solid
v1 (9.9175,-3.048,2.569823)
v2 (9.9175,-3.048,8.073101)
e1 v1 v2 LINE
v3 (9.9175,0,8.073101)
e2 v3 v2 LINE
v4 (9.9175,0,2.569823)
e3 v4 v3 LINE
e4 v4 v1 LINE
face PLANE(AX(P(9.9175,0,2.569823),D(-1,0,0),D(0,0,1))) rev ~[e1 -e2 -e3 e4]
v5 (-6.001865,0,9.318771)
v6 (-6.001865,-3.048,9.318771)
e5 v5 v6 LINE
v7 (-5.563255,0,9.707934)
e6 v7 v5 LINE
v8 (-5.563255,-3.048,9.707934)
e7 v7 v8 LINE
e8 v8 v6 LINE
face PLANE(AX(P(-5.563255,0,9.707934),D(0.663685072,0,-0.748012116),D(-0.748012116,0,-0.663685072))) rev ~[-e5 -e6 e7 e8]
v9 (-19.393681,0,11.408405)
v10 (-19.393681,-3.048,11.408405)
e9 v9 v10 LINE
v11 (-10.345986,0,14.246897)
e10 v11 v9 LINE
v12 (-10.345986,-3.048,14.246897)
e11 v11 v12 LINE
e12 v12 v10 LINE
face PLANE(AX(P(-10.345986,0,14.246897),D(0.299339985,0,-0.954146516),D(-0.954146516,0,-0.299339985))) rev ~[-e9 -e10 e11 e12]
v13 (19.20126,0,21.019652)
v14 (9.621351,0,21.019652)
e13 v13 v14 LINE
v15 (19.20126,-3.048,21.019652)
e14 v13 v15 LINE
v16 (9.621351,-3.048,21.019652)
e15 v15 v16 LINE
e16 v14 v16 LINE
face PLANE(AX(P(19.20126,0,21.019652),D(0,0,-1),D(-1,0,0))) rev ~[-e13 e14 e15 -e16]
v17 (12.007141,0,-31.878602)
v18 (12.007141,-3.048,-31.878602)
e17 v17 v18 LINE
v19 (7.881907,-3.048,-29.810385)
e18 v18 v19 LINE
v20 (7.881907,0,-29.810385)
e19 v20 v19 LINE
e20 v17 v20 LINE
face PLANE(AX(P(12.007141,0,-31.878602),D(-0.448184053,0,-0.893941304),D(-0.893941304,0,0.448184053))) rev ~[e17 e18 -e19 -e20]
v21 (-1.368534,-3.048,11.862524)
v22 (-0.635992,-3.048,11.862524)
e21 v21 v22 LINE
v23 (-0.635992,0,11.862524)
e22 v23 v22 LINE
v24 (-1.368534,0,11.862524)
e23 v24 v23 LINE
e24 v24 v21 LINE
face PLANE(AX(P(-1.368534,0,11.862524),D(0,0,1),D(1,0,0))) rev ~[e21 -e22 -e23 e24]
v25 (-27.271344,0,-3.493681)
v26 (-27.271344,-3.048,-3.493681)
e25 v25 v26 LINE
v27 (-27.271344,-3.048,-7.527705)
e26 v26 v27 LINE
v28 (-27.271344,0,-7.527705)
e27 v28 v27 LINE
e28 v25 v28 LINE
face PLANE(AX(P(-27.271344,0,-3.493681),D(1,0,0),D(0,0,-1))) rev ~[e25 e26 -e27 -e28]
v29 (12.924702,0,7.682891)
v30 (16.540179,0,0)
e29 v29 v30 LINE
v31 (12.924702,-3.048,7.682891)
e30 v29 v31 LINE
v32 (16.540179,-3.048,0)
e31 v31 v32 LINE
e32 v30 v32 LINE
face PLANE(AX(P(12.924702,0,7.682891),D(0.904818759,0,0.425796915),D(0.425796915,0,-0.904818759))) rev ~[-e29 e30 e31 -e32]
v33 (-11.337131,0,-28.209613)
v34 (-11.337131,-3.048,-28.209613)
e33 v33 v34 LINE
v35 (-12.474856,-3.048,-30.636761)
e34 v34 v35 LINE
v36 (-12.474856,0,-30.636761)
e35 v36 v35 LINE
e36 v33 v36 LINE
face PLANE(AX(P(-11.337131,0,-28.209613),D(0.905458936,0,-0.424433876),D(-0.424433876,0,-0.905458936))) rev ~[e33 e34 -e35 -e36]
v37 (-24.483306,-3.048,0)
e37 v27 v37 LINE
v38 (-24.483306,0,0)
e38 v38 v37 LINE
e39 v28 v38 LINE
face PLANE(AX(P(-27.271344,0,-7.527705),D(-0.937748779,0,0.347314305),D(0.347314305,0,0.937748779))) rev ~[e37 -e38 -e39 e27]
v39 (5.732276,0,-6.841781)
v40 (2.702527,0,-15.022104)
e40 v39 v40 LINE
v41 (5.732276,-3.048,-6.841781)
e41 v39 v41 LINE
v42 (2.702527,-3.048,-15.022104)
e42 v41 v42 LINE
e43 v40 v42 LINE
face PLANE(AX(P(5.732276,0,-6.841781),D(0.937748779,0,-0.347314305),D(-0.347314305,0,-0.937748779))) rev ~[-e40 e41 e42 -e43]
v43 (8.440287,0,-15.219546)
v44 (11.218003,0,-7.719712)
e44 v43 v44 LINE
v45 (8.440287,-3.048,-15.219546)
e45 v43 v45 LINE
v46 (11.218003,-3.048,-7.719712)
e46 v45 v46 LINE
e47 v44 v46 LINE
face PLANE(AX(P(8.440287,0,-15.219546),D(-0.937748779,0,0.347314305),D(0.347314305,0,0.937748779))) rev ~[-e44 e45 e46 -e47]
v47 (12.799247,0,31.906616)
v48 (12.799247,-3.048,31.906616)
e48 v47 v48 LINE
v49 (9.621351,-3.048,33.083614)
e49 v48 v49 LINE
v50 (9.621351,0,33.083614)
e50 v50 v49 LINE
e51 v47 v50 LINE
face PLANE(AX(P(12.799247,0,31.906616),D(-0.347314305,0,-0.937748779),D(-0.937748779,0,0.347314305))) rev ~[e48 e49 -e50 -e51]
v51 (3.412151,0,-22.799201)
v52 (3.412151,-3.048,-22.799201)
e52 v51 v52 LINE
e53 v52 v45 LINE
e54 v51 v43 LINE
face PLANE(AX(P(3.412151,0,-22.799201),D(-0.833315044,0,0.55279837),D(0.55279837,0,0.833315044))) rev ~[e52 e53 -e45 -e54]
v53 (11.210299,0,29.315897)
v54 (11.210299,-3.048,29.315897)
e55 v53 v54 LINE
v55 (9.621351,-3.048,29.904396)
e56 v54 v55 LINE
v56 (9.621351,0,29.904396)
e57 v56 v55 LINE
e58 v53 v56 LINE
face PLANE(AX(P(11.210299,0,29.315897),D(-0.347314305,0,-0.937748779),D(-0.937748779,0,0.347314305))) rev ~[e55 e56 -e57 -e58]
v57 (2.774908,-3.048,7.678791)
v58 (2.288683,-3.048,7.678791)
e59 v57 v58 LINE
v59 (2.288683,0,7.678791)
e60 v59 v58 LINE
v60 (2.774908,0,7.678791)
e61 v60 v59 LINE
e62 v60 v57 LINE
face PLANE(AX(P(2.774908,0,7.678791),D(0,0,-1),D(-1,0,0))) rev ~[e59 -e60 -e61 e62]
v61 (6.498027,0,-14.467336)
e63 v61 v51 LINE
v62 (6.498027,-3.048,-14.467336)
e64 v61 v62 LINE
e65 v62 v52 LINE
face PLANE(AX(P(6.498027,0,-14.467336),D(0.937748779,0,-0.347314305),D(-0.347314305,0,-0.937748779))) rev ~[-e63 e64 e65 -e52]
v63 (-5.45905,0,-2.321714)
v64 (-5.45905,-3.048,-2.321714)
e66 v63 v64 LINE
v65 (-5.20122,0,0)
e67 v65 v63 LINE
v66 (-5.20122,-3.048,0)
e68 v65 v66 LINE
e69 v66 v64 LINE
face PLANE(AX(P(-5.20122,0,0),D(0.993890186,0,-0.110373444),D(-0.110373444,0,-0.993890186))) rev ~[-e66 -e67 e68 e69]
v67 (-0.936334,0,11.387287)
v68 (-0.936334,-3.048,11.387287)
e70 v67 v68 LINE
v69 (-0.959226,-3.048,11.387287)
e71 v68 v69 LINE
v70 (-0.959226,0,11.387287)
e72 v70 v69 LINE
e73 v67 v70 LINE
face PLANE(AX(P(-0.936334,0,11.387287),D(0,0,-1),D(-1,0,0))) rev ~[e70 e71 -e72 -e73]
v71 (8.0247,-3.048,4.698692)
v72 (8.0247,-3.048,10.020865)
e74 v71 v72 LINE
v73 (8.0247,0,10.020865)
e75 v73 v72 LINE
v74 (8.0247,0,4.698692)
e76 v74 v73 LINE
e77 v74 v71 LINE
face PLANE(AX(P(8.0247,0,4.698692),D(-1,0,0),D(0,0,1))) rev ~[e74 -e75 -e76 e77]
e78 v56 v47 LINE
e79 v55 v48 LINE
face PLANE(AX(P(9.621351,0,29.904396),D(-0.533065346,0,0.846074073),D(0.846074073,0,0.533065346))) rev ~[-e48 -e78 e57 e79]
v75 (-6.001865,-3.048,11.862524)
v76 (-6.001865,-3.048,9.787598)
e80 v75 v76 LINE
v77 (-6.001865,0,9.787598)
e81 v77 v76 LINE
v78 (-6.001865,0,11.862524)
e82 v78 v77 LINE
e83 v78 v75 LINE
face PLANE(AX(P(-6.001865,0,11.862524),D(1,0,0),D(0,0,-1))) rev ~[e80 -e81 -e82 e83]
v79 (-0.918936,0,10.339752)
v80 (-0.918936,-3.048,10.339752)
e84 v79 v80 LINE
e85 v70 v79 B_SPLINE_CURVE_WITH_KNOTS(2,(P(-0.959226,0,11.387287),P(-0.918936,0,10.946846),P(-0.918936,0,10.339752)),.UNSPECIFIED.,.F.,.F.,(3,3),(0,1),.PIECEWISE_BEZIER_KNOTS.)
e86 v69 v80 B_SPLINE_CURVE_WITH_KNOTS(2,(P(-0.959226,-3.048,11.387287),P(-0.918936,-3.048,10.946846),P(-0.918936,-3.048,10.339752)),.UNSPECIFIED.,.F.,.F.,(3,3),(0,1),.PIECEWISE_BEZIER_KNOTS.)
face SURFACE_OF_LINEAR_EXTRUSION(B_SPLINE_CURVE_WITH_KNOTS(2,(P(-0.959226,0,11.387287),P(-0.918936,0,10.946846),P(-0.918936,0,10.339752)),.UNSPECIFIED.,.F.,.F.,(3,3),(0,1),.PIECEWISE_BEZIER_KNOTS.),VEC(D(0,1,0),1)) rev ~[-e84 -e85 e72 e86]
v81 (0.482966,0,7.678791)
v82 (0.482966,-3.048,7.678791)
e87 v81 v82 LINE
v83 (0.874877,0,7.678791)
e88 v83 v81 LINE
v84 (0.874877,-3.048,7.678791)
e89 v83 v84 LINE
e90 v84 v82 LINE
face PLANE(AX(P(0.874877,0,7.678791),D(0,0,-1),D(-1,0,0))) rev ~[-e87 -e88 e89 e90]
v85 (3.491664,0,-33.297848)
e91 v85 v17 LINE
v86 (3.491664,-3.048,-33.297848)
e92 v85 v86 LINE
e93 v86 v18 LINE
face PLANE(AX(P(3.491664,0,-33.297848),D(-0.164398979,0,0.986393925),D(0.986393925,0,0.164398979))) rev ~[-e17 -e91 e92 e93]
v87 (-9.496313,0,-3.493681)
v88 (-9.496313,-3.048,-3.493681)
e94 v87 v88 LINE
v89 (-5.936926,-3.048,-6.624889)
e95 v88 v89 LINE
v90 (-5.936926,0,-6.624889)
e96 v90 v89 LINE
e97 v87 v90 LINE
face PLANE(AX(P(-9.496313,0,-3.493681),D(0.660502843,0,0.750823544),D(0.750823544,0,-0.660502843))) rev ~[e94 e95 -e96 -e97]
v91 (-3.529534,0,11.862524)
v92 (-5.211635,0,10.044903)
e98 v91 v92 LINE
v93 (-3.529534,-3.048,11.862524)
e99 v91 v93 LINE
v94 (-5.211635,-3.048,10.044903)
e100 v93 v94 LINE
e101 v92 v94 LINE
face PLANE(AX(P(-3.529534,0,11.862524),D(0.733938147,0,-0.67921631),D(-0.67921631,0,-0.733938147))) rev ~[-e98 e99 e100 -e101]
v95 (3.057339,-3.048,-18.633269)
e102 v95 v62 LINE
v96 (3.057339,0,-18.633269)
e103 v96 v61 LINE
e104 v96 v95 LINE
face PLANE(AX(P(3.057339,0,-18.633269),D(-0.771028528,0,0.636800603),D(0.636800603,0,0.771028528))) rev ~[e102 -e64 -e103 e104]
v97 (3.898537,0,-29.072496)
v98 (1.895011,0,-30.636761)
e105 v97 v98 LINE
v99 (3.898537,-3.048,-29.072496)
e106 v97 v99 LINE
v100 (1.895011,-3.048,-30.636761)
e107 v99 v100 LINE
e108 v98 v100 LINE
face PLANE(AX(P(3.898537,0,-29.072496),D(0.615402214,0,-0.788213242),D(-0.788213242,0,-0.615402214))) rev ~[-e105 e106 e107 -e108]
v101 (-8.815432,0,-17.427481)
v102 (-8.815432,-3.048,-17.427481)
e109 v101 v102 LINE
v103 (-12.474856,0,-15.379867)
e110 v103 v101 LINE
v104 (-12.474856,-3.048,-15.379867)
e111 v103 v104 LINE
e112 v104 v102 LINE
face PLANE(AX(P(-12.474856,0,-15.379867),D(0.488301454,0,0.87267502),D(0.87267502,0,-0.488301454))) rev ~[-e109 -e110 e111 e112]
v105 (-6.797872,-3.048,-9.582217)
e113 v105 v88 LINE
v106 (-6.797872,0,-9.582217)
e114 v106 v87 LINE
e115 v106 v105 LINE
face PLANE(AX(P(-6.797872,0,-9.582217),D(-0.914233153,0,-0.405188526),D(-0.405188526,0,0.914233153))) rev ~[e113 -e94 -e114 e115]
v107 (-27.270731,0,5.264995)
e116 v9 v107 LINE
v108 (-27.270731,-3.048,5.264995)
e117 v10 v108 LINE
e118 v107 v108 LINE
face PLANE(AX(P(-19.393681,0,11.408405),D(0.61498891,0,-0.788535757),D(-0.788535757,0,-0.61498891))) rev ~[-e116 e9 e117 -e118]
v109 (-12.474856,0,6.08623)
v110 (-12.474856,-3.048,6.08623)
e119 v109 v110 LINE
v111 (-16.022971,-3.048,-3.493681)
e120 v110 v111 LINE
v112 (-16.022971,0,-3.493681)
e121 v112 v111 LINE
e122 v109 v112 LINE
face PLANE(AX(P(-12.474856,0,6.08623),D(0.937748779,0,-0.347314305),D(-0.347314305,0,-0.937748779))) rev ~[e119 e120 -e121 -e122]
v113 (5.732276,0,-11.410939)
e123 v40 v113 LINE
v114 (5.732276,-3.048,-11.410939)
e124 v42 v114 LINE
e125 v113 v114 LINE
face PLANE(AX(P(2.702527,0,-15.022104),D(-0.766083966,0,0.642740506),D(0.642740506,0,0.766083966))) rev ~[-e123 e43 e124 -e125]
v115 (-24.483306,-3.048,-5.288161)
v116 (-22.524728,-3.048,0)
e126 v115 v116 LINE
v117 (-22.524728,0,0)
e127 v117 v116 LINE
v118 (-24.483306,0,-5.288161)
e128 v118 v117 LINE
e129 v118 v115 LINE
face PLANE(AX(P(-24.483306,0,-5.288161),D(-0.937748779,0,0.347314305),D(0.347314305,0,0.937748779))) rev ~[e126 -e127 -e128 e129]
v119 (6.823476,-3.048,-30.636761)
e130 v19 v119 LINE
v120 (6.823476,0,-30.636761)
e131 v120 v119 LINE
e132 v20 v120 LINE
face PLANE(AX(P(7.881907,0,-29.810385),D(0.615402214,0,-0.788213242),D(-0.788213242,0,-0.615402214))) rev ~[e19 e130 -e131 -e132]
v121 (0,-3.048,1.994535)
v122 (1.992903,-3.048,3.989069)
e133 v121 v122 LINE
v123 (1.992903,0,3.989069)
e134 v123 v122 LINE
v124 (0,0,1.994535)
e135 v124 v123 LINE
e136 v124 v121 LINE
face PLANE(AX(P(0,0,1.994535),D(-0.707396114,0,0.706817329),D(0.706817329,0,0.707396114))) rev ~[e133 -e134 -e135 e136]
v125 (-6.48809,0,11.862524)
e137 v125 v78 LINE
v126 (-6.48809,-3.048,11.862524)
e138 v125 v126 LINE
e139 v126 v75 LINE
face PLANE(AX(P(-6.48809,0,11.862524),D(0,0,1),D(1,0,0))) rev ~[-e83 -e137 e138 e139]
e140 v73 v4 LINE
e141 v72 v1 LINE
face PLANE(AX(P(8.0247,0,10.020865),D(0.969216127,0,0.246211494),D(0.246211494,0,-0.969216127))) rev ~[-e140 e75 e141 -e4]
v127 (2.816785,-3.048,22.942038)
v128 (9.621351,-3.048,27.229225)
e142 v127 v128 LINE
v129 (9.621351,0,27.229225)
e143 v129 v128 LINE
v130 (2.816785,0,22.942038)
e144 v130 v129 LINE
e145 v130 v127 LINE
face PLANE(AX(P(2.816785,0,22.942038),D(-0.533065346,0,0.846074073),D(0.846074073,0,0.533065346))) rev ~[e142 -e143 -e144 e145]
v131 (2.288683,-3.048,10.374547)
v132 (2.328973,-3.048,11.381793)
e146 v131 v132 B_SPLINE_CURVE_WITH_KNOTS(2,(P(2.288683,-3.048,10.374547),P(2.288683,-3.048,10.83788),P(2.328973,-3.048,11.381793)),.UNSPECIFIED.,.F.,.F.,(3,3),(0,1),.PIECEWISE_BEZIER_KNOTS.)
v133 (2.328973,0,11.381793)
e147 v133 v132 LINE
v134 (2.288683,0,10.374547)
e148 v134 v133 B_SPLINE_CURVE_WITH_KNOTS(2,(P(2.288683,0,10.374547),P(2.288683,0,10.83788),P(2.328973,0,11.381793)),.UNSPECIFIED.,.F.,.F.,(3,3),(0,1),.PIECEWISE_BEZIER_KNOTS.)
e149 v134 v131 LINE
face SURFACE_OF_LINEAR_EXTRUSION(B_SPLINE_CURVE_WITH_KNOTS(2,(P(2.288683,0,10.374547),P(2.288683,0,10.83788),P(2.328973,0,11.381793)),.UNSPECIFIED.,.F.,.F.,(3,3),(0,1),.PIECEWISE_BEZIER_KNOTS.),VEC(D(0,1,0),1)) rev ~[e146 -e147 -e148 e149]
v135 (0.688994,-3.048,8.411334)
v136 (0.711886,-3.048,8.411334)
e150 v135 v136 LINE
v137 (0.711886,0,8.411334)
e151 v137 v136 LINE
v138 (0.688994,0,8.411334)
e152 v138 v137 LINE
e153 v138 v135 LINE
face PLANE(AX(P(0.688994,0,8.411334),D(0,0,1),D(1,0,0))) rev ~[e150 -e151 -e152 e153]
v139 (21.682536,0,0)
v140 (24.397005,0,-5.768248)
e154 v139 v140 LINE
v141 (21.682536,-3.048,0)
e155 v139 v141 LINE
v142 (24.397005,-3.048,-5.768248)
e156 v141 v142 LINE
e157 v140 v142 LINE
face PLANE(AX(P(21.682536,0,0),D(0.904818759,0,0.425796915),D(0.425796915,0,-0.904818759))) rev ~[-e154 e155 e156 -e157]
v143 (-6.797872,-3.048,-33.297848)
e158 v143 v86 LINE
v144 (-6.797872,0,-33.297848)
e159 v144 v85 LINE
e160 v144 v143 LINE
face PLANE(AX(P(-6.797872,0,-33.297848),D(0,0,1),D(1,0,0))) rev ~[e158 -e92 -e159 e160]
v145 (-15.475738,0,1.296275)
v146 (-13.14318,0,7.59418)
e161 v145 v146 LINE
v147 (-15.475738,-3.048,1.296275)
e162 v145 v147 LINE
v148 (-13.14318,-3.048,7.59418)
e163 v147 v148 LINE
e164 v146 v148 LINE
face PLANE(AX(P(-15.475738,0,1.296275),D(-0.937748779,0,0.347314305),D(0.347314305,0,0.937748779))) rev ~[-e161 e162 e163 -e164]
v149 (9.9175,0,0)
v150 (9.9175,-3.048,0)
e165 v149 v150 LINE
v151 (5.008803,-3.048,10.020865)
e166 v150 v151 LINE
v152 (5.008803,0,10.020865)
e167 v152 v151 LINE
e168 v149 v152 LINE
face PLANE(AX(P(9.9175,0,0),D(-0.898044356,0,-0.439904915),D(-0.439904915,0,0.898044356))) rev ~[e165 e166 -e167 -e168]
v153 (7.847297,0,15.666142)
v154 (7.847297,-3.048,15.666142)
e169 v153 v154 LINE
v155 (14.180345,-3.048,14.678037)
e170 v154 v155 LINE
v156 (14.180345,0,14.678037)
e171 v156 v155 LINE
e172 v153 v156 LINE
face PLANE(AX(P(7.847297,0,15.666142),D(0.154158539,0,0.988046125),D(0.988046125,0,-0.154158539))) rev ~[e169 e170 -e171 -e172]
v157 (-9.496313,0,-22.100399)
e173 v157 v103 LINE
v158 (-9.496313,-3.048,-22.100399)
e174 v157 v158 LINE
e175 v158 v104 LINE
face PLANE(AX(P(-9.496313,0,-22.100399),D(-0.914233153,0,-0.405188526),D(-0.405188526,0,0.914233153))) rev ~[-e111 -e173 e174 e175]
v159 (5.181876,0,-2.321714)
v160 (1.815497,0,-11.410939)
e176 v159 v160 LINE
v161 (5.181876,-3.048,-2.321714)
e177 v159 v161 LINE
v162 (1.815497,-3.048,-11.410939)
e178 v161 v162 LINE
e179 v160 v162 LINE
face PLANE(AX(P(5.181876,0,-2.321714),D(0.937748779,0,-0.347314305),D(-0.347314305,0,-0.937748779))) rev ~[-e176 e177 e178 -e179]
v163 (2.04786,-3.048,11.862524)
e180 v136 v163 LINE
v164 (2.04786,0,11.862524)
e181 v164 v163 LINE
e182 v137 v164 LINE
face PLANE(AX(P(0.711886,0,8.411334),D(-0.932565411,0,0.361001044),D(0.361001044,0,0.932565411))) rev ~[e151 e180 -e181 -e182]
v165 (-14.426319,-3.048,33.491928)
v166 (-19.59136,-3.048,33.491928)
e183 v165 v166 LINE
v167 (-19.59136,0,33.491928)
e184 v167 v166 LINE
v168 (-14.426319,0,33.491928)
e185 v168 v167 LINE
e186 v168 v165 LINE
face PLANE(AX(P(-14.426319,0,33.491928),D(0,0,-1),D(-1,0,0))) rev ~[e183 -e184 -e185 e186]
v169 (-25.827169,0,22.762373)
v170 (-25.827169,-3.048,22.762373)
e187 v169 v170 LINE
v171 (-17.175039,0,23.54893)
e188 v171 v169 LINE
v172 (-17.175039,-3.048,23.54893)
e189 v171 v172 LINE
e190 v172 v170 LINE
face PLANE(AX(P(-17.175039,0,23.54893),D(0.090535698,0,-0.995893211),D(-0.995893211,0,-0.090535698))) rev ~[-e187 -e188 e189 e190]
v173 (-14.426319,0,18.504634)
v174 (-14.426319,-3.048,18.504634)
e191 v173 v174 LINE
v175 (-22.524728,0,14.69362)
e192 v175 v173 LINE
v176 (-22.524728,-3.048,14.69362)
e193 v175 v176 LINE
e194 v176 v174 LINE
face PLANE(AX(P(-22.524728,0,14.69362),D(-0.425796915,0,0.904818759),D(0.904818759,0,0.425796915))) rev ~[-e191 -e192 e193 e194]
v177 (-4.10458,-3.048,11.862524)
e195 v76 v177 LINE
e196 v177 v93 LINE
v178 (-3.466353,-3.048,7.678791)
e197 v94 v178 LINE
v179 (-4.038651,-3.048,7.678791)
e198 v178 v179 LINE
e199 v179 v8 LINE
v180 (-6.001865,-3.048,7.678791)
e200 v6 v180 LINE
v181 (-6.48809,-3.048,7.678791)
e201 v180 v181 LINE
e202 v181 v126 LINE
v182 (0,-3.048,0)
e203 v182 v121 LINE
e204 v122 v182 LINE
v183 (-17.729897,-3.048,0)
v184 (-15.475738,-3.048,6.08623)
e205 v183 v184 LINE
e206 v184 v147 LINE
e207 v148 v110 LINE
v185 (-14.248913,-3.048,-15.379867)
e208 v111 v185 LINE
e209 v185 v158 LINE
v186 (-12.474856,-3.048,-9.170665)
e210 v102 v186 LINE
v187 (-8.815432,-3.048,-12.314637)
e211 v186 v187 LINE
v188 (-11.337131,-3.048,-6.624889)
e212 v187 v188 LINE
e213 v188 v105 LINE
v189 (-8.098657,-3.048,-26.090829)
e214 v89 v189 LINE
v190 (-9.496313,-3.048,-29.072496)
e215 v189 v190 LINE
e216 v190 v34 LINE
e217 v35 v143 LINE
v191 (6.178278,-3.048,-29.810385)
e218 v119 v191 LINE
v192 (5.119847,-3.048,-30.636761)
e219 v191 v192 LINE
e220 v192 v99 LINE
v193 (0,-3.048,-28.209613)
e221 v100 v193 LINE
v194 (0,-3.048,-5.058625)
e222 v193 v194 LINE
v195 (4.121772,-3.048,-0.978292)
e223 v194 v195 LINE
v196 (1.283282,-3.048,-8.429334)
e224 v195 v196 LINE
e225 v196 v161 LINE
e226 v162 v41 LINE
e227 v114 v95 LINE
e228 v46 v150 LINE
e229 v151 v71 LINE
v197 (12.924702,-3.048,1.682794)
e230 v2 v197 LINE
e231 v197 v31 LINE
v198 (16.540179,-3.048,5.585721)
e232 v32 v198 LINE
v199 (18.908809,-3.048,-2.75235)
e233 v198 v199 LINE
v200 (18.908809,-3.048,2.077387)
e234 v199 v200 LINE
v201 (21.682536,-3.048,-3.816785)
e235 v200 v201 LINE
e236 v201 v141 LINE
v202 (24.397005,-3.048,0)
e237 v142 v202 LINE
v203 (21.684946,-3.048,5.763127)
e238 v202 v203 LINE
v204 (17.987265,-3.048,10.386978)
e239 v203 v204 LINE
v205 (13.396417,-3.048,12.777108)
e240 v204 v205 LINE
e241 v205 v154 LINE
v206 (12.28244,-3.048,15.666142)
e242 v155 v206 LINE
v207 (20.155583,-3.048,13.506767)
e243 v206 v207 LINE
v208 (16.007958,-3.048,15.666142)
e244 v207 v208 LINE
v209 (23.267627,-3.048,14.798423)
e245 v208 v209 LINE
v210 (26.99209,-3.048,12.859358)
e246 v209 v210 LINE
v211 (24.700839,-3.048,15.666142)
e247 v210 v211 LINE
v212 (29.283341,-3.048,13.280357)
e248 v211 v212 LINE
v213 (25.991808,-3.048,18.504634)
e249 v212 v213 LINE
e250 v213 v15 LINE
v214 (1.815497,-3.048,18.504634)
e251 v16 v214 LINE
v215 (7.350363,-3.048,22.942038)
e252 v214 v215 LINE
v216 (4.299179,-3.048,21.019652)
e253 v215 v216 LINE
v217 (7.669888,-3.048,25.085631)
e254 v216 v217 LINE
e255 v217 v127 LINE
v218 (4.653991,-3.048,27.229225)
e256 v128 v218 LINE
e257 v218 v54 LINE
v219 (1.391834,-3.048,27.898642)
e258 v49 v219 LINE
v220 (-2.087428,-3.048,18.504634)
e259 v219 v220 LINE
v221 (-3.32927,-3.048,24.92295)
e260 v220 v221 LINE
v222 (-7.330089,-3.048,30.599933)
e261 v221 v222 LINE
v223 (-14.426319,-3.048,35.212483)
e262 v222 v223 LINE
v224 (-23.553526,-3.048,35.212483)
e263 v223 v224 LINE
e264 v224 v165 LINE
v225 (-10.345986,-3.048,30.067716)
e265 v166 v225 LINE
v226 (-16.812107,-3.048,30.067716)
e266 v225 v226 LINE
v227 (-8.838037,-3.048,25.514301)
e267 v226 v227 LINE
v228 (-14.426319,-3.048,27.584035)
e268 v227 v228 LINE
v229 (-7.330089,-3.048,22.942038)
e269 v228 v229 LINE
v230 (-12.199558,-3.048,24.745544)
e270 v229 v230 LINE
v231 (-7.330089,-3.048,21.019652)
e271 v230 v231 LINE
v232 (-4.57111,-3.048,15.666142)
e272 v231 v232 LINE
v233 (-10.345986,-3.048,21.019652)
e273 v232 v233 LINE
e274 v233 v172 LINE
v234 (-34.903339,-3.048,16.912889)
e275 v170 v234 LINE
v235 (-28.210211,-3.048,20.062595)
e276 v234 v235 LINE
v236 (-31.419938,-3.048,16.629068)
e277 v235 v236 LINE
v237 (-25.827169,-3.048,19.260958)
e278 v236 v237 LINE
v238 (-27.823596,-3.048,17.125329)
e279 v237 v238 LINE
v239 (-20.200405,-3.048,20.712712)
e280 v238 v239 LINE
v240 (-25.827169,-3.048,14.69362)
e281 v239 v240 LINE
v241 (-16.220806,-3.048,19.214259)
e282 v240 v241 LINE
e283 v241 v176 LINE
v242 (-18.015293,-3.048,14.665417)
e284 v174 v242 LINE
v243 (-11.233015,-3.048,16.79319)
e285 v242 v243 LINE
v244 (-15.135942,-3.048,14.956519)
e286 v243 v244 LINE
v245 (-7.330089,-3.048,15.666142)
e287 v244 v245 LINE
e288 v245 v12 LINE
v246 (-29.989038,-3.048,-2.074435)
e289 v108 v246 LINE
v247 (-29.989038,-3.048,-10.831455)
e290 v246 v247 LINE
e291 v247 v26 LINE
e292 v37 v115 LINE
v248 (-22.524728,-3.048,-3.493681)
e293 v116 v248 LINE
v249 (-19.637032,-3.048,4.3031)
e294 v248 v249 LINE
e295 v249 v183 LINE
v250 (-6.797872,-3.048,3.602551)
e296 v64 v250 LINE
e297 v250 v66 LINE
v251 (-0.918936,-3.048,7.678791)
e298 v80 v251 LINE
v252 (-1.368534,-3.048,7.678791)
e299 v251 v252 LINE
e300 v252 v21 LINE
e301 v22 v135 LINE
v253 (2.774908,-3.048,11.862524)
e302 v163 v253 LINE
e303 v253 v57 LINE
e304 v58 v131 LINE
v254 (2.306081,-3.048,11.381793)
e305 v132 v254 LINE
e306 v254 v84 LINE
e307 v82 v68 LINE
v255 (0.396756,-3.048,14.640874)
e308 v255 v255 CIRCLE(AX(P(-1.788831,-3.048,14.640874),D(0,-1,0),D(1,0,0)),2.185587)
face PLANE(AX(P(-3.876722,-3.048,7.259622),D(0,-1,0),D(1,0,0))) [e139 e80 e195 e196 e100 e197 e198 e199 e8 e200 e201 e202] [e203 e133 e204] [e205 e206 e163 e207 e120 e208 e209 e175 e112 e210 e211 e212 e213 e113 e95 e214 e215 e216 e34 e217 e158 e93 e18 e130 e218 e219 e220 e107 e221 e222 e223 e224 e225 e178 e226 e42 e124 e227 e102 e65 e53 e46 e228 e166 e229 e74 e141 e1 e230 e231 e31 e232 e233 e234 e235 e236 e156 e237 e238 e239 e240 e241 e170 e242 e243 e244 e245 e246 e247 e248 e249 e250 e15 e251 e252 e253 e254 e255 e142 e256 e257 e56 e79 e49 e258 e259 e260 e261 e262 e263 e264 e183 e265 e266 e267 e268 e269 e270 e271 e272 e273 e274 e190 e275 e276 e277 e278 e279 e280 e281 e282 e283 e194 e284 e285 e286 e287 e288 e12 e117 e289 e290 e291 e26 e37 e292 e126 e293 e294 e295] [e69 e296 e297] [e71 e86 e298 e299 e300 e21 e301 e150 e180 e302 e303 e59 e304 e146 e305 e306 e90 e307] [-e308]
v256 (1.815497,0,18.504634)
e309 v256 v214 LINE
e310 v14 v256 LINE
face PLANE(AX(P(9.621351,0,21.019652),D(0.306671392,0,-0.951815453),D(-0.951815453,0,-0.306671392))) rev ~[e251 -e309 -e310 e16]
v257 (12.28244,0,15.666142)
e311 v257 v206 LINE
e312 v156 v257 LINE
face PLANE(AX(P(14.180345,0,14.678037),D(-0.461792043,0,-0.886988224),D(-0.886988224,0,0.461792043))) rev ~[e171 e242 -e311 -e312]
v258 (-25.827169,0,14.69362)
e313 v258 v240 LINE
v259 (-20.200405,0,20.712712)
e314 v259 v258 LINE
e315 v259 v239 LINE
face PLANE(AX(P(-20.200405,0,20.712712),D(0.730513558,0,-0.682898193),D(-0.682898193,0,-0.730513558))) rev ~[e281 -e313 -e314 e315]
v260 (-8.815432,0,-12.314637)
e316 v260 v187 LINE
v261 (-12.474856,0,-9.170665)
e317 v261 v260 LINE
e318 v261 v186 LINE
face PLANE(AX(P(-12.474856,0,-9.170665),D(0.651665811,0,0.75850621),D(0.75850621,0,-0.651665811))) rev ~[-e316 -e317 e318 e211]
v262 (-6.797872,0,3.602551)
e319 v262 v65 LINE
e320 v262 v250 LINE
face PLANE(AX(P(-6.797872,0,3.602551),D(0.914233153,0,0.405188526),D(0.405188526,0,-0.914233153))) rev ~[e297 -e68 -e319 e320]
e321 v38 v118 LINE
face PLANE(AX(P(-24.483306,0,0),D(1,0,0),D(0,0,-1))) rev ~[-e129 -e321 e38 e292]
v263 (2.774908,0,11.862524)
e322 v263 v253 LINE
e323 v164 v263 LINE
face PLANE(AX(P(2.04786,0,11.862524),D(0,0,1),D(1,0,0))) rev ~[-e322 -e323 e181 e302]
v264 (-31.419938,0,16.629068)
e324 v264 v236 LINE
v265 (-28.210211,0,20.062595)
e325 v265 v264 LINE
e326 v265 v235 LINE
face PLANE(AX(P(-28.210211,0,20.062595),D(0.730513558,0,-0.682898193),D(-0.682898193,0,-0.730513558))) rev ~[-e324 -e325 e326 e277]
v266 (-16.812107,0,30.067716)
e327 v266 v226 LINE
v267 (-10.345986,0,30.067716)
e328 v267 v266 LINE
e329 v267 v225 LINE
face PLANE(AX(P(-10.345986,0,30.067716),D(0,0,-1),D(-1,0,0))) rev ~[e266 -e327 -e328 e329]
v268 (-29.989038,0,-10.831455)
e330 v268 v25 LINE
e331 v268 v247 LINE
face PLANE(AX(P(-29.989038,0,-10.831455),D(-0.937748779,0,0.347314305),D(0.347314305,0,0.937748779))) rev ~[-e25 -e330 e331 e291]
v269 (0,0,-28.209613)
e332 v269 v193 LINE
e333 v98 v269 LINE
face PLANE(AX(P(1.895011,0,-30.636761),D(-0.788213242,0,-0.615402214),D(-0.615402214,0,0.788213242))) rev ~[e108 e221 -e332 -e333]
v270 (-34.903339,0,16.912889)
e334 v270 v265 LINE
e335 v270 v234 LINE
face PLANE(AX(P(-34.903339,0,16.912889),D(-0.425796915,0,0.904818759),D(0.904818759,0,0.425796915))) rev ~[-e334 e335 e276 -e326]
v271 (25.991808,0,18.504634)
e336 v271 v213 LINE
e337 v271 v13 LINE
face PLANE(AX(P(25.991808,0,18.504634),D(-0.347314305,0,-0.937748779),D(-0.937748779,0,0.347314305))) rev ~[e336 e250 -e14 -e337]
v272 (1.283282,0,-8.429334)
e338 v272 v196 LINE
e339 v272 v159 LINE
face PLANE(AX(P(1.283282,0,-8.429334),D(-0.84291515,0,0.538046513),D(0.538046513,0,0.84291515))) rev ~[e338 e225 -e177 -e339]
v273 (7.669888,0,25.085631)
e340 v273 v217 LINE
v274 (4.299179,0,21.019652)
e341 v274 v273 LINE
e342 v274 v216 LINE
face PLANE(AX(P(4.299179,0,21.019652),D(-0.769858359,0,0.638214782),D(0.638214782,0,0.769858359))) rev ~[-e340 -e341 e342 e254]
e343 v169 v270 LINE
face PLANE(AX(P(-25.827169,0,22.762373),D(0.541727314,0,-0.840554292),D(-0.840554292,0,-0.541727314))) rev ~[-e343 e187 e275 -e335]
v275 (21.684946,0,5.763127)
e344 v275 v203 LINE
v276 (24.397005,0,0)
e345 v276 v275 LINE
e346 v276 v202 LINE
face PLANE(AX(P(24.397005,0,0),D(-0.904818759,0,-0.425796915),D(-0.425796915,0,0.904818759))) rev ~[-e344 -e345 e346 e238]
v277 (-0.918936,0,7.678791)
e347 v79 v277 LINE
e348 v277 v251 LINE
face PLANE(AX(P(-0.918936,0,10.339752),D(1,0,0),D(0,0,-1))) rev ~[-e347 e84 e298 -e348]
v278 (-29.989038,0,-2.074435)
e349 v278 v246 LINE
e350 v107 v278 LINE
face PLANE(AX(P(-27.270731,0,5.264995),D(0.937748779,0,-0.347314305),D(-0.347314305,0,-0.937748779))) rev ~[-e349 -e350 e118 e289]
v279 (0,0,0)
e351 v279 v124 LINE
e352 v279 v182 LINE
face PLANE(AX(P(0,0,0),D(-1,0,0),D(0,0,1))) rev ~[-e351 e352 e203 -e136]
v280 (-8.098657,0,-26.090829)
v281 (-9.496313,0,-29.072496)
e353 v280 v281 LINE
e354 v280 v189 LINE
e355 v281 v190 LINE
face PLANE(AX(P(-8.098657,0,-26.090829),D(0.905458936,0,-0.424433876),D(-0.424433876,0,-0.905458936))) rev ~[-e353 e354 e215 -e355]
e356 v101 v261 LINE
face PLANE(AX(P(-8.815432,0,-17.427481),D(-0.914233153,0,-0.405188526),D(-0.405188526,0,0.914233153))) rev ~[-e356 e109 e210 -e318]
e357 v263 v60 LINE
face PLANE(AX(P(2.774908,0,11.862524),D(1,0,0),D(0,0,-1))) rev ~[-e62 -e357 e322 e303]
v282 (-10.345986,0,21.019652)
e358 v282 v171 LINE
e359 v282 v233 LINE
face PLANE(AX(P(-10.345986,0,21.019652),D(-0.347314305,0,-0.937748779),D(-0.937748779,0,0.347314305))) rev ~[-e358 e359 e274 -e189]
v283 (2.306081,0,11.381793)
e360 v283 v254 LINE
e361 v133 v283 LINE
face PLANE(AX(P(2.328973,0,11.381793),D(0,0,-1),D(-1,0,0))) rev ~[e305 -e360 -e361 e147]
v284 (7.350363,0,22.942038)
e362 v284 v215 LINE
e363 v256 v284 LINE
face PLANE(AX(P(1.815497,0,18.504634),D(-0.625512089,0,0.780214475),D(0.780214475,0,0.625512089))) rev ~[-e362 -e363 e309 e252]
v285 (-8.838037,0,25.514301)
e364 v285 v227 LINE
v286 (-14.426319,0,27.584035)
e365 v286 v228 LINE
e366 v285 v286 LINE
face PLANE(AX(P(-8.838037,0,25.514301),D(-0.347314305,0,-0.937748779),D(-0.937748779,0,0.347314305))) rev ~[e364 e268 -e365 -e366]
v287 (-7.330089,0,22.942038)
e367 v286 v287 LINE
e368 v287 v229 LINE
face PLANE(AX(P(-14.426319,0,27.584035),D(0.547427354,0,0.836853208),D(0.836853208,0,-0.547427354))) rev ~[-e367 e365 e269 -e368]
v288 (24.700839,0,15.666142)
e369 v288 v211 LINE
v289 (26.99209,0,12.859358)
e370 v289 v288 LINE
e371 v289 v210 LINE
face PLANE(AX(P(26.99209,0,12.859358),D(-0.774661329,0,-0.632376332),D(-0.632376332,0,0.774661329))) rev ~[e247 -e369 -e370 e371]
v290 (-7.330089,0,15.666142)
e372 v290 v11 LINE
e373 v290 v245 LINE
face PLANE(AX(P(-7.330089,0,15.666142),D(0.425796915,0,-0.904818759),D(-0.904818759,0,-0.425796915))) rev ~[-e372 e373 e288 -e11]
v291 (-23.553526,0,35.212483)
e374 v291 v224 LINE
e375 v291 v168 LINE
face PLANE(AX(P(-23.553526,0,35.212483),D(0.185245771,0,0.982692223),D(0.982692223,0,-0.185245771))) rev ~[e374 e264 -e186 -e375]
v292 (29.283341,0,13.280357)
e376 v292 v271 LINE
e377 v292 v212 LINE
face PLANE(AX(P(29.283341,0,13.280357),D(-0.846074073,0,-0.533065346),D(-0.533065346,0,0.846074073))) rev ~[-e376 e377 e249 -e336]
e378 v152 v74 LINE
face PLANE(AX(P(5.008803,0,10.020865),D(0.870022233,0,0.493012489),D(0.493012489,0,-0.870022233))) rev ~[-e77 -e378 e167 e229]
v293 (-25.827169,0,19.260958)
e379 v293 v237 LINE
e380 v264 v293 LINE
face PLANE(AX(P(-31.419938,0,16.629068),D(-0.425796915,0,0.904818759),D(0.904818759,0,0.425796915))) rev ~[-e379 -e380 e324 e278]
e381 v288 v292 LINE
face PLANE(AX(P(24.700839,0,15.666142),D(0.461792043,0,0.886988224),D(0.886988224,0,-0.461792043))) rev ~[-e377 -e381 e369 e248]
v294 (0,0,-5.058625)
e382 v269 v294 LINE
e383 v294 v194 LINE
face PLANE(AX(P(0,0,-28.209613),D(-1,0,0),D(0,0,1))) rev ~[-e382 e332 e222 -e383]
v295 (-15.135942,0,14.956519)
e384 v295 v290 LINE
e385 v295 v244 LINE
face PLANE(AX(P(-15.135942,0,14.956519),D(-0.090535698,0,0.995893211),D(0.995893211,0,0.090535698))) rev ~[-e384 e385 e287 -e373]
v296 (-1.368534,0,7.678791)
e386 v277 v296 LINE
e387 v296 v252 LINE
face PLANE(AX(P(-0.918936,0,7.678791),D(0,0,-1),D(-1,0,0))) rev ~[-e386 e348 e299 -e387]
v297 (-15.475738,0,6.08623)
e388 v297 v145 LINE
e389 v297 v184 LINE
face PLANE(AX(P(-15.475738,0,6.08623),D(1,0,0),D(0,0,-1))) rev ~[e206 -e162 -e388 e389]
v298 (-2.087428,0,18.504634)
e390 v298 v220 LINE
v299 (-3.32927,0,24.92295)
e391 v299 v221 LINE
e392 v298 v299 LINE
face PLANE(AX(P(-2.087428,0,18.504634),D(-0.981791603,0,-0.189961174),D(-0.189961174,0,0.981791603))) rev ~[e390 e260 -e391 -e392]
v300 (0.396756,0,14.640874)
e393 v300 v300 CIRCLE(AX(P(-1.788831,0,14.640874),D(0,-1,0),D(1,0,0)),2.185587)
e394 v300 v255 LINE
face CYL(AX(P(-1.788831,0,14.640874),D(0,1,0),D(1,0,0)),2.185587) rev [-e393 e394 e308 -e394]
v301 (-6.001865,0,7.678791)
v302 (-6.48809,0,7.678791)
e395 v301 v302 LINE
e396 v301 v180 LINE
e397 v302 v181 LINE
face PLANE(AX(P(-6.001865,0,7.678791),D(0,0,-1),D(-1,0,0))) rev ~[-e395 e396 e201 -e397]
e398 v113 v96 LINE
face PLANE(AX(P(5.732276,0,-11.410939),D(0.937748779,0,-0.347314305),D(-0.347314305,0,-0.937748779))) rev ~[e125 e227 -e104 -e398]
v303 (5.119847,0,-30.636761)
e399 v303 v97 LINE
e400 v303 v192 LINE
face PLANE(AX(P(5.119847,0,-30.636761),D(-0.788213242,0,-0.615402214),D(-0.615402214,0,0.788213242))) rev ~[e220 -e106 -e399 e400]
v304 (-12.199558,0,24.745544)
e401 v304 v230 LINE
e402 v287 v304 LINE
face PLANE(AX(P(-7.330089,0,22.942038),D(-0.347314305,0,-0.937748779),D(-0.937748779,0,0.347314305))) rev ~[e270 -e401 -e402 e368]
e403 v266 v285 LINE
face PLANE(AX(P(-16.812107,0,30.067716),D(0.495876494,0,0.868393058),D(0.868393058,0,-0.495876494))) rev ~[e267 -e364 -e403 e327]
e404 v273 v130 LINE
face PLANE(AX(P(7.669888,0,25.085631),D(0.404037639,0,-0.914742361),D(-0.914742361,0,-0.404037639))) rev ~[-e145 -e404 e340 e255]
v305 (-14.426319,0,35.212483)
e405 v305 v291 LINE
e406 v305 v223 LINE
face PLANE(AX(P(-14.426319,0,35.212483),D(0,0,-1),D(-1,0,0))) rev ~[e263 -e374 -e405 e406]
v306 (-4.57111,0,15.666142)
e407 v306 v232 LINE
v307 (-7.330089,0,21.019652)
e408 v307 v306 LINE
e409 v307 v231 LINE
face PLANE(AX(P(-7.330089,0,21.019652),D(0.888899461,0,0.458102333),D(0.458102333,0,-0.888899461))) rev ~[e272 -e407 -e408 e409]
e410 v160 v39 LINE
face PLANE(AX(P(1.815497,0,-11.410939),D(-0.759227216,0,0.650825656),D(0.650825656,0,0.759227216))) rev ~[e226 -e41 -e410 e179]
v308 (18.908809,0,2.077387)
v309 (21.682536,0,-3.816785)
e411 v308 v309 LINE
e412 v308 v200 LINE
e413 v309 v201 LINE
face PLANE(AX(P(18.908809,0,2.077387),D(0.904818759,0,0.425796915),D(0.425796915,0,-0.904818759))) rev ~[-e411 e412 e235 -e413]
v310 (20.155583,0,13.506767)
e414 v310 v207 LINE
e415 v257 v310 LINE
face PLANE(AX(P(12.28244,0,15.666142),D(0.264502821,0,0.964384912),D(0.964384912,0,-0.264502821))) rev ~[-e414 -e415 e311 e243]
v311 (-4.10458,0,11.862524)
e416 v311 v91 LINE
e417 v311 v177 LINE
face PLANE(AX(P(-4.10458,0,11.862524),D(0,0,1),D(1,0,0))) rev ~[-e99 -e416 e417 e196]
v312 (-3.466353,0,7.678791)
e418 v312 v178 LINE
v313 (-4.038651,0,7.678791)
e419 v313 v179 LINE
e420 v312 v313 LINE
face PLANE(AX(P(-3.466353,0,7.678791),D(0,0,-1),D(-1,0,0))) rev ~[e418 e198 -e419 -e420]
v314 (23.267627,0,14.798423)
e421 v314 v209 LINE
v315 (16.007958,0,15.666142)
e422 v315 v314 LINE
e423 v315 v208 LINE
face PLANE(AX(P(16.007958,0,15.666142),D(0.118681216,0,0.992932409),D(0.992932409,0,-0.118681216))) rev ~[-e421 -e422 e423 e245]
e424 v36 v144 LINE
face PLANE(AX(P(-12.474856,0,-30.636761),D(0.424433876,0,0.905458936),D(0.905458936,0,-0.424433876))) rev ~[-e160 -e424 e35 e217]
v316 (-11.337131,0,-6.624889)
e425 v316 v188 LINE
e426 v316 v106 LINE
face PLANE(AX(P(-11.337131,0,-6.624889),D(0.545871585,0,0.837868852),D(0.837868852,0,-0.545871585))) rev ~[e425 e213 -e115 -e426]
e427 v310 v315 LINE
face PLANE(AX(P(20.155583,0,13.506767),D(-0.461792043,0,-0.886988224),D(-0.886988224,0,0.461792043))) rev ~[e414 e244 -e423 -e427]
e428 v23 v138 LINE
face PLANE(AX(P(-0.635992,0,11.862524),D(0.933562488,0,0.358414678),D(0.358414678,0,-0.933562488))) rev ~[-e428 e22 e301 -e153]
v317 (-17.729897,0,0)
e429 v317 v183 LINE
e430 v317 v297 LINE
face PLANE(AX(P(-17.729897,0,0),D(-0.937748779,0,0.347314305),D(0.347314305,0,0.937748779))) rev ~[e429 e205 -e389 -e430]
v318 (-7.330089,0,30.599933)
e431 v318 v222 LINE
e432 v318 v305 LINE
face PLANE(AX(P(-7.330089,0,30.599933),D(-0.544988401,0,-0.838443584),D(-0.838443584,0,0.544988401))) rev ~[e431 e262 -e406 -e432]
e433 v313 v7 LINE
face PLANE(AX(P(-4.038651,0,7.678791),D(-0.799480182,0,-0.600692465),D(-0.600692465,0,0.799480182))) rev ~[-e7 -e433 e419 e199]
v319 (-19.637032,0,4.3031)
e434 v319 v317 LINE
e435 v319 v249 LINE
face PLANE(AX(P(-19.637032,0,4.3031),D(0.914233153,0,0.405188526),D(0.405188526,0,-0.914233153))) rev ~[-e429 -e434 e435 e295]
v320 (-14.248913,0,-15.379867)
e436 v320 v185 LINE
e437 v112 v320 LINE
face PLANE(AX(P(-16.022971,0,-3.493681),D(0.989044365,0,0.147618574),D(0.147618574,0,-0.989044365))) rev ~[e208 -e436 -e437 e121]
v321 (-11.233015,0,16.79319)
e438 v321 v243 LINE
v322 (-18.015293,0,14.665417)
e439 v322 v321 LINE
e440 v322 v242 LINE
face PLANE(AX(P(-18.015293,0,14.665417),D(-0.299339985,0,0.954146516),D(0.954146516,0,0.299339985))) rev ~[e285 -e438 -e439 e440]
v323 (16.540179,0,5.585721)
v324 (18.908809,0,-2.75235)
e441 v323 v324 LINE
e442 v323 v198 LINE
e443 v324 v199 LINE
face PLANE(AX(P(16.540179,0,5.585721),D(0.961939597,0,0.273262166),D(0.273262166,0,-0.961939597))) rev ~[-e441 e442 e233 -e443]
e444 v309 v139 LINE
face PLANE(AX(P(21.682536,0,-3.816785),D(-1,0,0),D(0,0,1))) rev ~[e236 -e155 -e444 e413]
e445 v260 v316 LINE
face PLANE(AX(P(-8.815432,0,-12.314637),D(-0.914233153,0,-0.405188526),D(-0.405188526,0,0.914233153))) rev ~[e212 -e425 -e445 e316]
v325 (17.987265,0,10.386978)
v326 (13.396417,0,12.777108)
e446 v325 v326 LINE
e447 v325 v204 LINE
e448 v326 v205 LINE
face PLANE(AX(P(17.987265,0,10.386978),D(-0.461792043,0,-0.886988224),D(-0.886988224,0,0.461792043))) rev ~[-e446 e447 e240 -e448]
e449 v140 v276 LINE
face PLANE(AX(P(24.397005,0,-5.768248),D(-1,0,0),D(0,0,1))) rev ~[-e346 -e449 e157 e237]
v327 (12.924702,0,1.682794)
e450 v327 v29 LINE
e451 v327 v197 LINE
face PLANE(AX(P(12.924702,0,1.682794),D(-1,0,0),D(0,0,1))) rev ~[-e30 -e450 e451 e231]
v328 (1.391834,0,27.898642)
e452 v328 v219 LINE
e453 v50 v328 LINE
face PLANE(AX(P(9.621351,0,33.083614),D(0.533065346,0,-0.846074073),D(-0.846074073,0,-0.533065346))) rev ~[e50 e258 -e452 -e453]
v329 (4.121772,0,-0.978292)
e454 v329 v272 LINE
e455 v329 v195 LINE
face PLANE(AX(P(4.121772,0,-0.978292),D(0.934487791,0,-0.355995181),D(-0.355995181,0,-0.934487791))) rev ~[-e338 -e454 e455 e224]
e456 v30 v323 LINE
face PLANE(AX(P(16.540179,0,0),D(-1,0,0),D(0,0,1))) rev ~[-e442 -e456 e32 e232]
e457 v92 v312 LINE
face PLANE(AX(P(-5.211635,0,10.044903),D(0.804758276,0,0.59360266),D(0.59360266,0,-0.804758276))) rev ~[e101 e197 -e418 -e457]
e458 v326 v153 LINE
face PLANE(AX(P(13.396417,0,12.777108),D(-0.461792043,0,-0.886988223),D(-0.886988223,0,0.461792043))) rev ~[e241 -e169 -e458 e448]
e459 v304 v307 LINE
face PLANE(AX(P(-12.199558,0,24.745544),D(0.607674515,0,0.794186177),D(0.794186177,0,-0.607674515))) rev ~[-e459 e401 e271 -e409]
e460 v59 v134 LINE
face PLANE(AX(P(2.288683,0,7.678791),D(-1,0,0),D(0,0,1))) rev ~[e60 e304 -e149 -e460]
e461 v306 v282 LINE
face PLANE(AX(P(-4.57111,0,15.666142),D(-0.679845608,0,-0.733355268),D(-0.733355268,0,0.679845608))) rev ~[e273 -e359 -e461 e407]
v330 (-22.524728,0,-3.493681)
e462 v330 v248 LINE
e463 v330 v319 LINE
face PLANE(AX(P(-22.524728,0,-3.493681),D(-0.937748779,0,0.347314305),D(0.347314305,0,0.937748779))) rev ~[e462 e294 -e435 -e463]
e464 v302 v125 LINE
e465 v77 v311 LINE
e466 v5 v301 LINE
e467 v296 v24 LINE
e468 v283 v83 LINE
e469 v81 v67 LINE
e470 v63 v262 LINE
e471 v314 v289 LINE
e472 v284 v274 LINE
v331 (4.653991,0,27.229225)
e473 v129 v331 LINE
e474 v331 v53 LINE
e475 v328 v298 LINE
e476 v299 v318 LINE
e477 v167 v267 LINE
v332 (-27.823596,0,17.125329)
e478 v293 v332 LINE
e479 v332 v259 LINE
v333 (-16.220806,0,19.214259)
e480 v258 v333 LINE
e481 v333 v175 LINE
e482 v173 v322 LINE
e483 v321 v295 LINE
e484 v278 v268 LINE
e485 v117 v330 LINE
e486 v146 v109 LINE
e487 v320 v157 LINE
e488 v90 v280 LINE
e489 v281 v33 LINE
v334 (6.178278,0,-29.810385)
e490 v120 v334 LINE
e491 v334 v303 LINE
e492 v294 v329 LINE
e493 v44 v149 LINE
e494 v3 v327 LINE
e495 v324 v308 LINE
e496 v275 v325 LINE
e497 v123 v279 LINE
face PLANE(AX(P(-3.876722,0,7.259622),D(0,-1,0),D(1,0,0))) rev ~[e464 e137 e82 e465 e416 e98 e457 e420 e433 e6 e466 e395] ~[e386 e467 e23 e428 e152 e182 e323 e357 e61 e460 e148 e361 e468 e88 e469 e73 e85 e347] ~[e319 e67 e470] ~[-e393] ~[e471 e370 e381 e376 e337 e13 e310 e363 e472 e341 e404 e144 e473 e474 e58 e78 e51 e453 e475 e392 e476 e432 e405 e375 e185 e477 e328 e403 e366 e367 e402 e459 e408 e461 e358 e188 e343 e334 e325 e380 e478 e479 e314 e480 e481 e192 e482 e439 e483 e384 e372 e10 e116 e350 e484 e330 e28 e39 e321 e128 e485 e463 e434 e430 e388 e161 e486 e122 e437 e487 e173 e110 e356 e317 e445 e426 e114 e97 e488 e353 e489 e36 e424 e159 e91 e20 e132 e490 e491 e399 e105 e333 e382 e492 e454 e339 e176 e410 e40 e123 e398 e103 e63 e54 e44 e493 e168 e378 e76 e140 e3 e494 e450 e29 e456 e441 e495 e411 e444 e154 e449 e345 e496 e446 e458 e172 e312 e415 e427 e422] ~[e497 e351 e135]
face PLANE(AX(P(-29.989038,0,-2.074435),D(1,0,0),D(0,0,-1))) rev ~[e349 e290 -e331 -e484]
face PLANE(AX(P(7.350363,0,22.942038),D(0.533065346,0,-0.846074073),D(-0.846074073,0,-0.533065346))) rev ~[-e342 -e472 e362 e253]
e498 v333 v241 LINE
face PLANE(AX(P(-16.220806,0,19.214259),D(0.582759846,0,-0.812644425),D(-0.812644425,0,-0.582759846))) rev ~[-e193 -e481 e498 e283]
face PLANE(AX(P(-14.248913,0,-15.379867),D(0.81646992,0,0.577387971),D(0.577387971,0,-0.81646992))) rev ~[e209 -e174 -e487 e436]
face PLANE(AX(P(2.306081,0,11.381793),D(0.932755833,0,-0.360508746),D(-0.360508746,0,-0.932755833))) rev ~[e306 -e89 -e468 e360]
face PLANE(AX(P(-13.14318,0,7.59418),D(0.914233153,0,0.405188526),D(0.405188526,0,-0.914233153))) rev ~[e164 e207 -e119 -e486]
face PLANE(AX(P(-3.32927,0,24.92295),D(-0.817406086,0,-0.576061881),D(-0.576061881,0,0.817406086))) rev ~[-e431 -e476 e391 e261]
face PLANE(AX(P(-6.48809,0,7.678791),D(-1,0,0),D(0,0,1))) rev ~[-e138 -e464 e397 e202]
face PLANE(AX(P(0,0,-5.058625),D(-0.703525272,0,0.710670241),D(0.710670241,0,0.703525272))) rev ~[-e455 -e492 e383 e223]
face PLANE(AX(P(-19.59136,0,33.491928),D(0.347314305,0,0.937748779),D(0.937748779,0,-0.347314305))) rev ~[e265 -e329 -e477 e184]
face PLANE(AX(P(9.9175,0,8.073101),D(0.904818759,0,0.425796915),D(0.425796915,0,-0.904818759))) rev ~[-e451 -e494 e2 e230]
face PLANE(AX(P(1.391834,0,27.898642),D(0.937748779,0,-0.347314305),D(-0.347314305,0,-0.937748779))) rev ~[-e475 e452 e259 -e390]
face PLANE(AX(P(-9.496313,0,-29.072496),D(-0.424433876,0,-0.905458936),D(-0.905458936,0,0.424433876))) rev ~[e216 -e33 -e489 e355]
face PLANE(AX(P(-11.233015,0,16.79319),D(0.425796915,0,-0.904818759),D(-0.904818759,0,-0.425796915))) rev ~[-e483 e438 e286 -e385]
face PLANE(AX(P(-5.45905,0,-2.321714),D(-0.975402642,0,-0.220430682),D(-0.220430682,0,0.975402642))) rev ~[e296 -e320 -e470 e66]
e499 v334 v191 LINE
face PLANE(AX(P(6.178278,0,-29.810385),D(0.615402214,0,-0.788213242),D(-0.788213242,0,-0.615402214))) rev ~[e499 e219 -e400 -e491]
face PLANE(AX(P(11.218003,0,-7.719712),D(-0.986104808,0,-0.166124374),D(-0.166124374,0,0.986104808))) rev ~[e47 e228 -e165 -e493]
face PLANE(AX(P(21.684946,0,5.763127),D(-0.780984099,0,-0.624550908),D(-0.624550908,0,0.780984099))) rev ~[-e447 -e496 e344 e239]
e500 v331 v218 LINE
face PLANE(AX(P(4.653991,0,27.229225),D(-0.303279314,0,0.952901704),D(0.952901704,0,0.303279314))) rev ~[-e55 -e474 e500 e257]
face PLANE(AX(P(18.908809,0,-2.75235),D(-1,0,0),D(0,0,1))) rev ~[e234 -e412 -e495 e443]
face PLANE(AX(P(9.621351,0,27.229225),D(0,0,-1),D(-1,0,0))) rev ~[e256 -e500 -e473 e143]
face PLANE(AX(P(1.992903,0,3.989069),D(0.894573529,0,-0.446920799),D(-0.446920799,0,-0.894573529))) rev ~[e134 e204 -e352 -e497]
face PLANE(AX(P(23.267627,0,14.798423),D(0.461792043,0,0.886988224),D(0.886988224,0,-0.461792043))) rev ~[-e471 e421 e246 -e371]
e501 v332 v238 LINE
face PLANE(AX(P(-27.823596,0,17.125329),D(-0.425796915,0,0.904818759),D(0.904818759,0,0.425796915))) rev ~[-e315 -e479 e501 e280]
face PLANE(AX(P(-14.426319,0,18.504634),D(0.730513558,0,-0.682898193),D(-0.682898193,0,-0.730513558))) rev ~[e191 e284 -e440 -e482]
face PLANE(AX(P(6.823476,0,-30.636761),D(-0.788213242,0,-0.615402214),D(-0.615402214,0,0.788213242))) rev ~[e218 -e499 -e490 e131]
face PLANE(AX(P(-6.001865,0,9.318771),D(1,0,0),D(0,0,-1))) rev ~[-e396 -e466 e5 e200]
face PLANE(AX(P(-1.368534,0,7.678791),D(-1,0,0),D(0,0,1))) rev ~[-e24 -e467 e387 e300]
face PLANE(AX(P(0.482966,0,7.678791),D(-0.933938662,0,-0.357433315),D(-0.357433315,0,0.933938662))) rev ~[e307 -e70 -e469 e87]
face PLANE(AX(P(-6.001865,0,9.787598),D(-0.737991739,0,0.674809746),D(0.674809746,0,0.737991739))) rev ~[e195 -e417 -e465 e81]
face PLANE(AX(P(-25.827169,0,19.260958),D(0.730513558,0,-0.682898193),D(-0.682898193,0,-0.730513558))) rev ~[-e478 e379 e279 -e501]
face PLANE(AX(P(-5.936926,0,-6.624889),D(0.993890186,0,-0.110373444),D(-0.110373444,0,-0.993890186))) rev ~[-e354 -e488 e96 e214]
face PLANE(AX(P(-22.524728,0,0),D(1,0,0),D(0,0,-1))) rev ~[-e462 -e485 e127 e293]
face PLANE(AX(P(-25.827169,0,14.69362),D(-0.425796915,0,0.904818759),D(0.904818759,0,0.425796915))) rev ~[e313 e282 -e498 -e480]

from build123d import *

# Parameters (mm, degrees)
F0_R     = 2.1855866809
F1_DEPTH = 3.048


with BuildPart() as f1:
    # F0 (on Front) → F1 (new body)
    with BuildSketch(Plane.XZ):
        Polygon((-5.9369264533, -6.6248892115), (-8.0986570849, -26.090829358), (-8.0986570849, -29.0724959499), (-6.7978715524, -28.209612886), (-3.9593786933, -29.0724959499), (0, -28.209612886), (0, -5.0586252473), (4.1217724793, -0.9782924317), (1.2832815992, -8.4293344989), (5.1818756491, -2.3217138641), (1.8154965946, -11.4109388133), (5.7322757336, -6.8417807078), (2.702526981, -15.0221036917), (5.7322757336, -11.4109388133), (3.0573392287, -18.6332685701), (6.4980270698, -14.4673358305), (3.4121514764, -22.7992013097), (8.4402870655, -15.2195461217), (11.2180029973, -7.7197118662), (9.9174999541, 0), (5.0088027492, 10.0208651274), (8.024699986, 4.6986923553), (8.024699986, 10.0208651274), (9.9174999541, 2.5698228274), (9.9174999541, 8.0731014378), (12.9247023214, 1.6827941872), (12.9247023214, 7.682890673), (16.5401790291, 0), (16.5401790291, 5.5857207626), (18.9088093805, -2.7523501776), (18.9088093805, 2.0773874768), (21.6825364495, -3.8167845923), (21.6825364495, 0), (24.3970053162, -5.7682483457), (24.3970053162, 0), (21.6849464923, 5.7631270029), (17.9872654723, 10.3869775868), (13.3964173922, 12.7771075341), (7.8472970054, 15.6661421061), (14.1803448269, 14.6780370192), (12.2824395075, 15.6661421061), (20.1555828001, 13.5067671671), (16.00795798, 15.6661421061), (23.2676268034, 14.7984231008), (26.9920900816, 12.8593584523), (24.7008390725, 15.6661421061), (29.2833410908, 13.2803573629), (25.9918076559, 18.5046344995), (19.2012600601, 21.019651712), (14.9435270578, 21.019651712), (9.621351026, 21.019651712), (1.8154965946, 18.5046344995), (7.3503633432, 22.9420375162), (4.2991787195, 21.019651712), (7.6698875055, 25.0856313896), (2.8167848962, 22.9420375162), (9.621351026, 27.229225263), (4.6539907344, 27.229225263), (11.2102990657, 29.3158966176), (9.621351026, 29.9043957943), (12.7992471054, 31.9066156085), (9.621351026, 33.0836139619), (1.3918339066, 27.8986419471), (-2.087427536, 18.5046344995), (-3.3292702865, 24.9229501933), (-7.3300888762, 30.5999331176), (-14.4263189286, 35.2124832571), (-23.553526029, 35.2124832571), (-14.4263189286, 33.4919277449), (-19.5913599088, 33.4919277449), (-10.345986113, 30.0677157938), (-16.8121065944, 30.0677157938), (-8.8380374946, 25.5143014271), (-14.4263189286, 27.5840349495), (-7.3300888762, 22.9420375162), (-12.1995583177, 24.7455444187), (-7.3300888762, 21.019651712), (-4.5711095445, 15.6661421061), (-10.345986113, 21.019651712), (-17.1750385652, 23.54892998), (-25.8271690029, 22.7623730898), (-34.9033385476, 16.912889007), (-28.2102105994, 20.0625951825), (-31.419938263, 16.6290679), (-25.8271690029, 19.2609584022), (-27.8235962899, 17.1253293783), (-20.200404818, 20.7127123541), (-25.8271690029, 14.6936196567), (-16.2208060825, 19.2142594606), (-22.524728283, 14.6936196567), (-14.4263189286, 18.5046344995), (-18.0152932364, 14.6654174403), (-11.2330154516, 16.7931901649), (-15.135942027, 14.9565194733), (-7.3300888762, 15.6661421061), (-10.345986113, 14.2468968406), (-19.3936806172, 11.4084053785), (-27.2707313308, 5.2649948951), (-29.9890381223, -2.0744346548), (-29.9890381223, -10.8314546173), (-27.2713444978, -3.4936806187), (-27.2713444978, -7.5277050313), (-24.4833060582, 0), (-24.4833060582, -5.2881608668), (-22.524728283, 0), (-22.524728283, -3.4936806187), (-19.6370323027, 4.3030998167), (-17.7298966168, 0), (-15.4757376271, 6.086230278), (-15.4757376271, 1.2962748297), (-13.1431804335, 7.5941802934), (-12.4748563394, 6.086230278), (-16.0229708999, -3.4936806187), (-14.248913154, -15.3798665851), (-9.4963132998, -22.1003994255), (-12.4748563394, -15.3798665851), (-8.8154319776, -17.4274813299), (-12.4748563394, -9.1706654057), (-8.8154319776, -12.3146366909), (-11.3371305027, -6.6248892115), (-6.7978715524, -9.5822165707), (-9.4963132998, -3.4936806187), align=None)
        Polygon((-5.4590504354, -2.3217138641), (-5.9369264533, -6.6248892115), (-8.0986570849, 0), align=None, mode=Mode.SUBTRACT)
        Polygon((-5.2012195811, 0), (-5.4590504354, -2.3217138641), (-6.7978715524, 3.6025505979), align=None, mode=Mode.SUBTRACT)
        Polygon((4.1217724793, 2.9246343765), (0, -5.0586252473), (0, 0), align=None, mode=Mode.SUBTRACT)
        Polygon((-5.2116346857, 10.044903243), (-3.4663525091, 7.6787914149), (-4.0386512292, 7.6787914149), (-5.5632550193, 9.7079337566), (-6.0018647583, 9.318770627), (-6.0018647583, 7.6787914149), (-6.4880897508, 7.6787914149), (-6.4880897508, 11.8625239778), (-6.0018647583, 11.8625239778), (-6.0018647583, 9.7875977385), (-4.1045800417, 11.8625239778), (-3.5295342878, 11.8625239778), align=None, mode=Mode.SUBTRACT)
        Polygon((1.9929027185, 3.9890692569), (0, 0), (0, 1.9945346285), align=None, mode=Mode.SUBTRACT)
        with BuildLine():
            Line((0.8748766614, 7.6787914149), (0.482966498, 7.6787914149))
            Line((0.482966498, 7.6787914149), (-0.9363343277, 11.3872871207))
            Line((-0.9363343277, 11.3872871207), (-0.9592262765, 11.3872871207))
            add(Edge.make_bspline(
                [(-0.9592262765, 11.3872871207), (-0.9189364466, 10.9468460257), (-0.9189364466, 10.3397515435)],
                knots=[0, 0, 0, 1, 1, 1], degree=2))
            Line((-0.9189364466, 10.3397515435), (-0.9189364466, 7.6787914149))
            Line((-0.9189364466, 7.6787914149), (-1.368534321, 7.6787914149))
            Line((-1.368534321, 7.6787914149), (-1.368534321, 11.8625239778))
            Line((-1.368534321, 11.8625239778), (-0.6359919594, 11.8625239778))
            Line((-0.6359919594, 11.8625239778), (0.6889940372, 8.4113337766))
            Line((0.6889940372, 8.4113337766), (0.711885986, 8.4113337766))
            Line((0.711885986, 8.4113337766), (2.047860118, 11.8625239778))
            Line((2.047860118, 11.8625239778), (2.7749084119, 11.8625239778))
            Line((2.7749084119, 11.8625239778), (2.7749084119, 7.6787914149))
            Line((2.7749084119, 7.6787914149), (2.2886834194, 7.6787914149))
            Line((2.2886834194, 7.6787914149), (2.2886834194, 10.3745473057))
            add(Edge.make_bspline(
                [(2.2886834194, 10.3745473057), (2.2886834194, 10.8378803495), (2.3289732493, 11.381793053)],
                knots=[0, 0, 0, 1, 1, 1], degree=2))
            Line((2.3289732493, 11.381793053), (2.3060813005, 11.381793053))
            Line((2.3060813005, 11.381793053), (0.8748766614, 7.6787914149))
        make_face(mode=Mode.SUBTRACT)
        with Locations((-1.788830501, 14.6408742294)):
            Circle(F0_R, mode=Mode.SUBTRACT)
        Polygon((3.4916638397, -33.2978479564), (12.0071414858, -31.8786017597), (7.881906937, -29.8103850529), (6.8234760188, -30.6367613375), (6.1782777805, -29.8103850529), (5.1198468623, -30.6367613375), (3.8985372832, -29.0724959499), (1.8950107042, -30.6367613375), (0, -28.209612886), (-3.9593786933, -29.0724959499), (-6.7978715524, -28.209612886), (-8.0986570849, -29.0724959499), (-8.0986570849, -26.090829358), (-9.4963132998, -29.0724959499), (-11.3371305027, -28.209612886), (-12.4748563394, -30.6367613375), (-6.7978715524, -33.2978479564), align=None)
        Polygon((0, 0), (0, -5.0586252473), (4.1217724793, 2.9246343765), align=None)
        Polygon((-8.0986570849, 0), (-5.9369264533, -6.6248892115), (-5.4590504354, -2.3217138641), align=None)
    extrude(amount=F1_DEPTH)


solid = f1.part
